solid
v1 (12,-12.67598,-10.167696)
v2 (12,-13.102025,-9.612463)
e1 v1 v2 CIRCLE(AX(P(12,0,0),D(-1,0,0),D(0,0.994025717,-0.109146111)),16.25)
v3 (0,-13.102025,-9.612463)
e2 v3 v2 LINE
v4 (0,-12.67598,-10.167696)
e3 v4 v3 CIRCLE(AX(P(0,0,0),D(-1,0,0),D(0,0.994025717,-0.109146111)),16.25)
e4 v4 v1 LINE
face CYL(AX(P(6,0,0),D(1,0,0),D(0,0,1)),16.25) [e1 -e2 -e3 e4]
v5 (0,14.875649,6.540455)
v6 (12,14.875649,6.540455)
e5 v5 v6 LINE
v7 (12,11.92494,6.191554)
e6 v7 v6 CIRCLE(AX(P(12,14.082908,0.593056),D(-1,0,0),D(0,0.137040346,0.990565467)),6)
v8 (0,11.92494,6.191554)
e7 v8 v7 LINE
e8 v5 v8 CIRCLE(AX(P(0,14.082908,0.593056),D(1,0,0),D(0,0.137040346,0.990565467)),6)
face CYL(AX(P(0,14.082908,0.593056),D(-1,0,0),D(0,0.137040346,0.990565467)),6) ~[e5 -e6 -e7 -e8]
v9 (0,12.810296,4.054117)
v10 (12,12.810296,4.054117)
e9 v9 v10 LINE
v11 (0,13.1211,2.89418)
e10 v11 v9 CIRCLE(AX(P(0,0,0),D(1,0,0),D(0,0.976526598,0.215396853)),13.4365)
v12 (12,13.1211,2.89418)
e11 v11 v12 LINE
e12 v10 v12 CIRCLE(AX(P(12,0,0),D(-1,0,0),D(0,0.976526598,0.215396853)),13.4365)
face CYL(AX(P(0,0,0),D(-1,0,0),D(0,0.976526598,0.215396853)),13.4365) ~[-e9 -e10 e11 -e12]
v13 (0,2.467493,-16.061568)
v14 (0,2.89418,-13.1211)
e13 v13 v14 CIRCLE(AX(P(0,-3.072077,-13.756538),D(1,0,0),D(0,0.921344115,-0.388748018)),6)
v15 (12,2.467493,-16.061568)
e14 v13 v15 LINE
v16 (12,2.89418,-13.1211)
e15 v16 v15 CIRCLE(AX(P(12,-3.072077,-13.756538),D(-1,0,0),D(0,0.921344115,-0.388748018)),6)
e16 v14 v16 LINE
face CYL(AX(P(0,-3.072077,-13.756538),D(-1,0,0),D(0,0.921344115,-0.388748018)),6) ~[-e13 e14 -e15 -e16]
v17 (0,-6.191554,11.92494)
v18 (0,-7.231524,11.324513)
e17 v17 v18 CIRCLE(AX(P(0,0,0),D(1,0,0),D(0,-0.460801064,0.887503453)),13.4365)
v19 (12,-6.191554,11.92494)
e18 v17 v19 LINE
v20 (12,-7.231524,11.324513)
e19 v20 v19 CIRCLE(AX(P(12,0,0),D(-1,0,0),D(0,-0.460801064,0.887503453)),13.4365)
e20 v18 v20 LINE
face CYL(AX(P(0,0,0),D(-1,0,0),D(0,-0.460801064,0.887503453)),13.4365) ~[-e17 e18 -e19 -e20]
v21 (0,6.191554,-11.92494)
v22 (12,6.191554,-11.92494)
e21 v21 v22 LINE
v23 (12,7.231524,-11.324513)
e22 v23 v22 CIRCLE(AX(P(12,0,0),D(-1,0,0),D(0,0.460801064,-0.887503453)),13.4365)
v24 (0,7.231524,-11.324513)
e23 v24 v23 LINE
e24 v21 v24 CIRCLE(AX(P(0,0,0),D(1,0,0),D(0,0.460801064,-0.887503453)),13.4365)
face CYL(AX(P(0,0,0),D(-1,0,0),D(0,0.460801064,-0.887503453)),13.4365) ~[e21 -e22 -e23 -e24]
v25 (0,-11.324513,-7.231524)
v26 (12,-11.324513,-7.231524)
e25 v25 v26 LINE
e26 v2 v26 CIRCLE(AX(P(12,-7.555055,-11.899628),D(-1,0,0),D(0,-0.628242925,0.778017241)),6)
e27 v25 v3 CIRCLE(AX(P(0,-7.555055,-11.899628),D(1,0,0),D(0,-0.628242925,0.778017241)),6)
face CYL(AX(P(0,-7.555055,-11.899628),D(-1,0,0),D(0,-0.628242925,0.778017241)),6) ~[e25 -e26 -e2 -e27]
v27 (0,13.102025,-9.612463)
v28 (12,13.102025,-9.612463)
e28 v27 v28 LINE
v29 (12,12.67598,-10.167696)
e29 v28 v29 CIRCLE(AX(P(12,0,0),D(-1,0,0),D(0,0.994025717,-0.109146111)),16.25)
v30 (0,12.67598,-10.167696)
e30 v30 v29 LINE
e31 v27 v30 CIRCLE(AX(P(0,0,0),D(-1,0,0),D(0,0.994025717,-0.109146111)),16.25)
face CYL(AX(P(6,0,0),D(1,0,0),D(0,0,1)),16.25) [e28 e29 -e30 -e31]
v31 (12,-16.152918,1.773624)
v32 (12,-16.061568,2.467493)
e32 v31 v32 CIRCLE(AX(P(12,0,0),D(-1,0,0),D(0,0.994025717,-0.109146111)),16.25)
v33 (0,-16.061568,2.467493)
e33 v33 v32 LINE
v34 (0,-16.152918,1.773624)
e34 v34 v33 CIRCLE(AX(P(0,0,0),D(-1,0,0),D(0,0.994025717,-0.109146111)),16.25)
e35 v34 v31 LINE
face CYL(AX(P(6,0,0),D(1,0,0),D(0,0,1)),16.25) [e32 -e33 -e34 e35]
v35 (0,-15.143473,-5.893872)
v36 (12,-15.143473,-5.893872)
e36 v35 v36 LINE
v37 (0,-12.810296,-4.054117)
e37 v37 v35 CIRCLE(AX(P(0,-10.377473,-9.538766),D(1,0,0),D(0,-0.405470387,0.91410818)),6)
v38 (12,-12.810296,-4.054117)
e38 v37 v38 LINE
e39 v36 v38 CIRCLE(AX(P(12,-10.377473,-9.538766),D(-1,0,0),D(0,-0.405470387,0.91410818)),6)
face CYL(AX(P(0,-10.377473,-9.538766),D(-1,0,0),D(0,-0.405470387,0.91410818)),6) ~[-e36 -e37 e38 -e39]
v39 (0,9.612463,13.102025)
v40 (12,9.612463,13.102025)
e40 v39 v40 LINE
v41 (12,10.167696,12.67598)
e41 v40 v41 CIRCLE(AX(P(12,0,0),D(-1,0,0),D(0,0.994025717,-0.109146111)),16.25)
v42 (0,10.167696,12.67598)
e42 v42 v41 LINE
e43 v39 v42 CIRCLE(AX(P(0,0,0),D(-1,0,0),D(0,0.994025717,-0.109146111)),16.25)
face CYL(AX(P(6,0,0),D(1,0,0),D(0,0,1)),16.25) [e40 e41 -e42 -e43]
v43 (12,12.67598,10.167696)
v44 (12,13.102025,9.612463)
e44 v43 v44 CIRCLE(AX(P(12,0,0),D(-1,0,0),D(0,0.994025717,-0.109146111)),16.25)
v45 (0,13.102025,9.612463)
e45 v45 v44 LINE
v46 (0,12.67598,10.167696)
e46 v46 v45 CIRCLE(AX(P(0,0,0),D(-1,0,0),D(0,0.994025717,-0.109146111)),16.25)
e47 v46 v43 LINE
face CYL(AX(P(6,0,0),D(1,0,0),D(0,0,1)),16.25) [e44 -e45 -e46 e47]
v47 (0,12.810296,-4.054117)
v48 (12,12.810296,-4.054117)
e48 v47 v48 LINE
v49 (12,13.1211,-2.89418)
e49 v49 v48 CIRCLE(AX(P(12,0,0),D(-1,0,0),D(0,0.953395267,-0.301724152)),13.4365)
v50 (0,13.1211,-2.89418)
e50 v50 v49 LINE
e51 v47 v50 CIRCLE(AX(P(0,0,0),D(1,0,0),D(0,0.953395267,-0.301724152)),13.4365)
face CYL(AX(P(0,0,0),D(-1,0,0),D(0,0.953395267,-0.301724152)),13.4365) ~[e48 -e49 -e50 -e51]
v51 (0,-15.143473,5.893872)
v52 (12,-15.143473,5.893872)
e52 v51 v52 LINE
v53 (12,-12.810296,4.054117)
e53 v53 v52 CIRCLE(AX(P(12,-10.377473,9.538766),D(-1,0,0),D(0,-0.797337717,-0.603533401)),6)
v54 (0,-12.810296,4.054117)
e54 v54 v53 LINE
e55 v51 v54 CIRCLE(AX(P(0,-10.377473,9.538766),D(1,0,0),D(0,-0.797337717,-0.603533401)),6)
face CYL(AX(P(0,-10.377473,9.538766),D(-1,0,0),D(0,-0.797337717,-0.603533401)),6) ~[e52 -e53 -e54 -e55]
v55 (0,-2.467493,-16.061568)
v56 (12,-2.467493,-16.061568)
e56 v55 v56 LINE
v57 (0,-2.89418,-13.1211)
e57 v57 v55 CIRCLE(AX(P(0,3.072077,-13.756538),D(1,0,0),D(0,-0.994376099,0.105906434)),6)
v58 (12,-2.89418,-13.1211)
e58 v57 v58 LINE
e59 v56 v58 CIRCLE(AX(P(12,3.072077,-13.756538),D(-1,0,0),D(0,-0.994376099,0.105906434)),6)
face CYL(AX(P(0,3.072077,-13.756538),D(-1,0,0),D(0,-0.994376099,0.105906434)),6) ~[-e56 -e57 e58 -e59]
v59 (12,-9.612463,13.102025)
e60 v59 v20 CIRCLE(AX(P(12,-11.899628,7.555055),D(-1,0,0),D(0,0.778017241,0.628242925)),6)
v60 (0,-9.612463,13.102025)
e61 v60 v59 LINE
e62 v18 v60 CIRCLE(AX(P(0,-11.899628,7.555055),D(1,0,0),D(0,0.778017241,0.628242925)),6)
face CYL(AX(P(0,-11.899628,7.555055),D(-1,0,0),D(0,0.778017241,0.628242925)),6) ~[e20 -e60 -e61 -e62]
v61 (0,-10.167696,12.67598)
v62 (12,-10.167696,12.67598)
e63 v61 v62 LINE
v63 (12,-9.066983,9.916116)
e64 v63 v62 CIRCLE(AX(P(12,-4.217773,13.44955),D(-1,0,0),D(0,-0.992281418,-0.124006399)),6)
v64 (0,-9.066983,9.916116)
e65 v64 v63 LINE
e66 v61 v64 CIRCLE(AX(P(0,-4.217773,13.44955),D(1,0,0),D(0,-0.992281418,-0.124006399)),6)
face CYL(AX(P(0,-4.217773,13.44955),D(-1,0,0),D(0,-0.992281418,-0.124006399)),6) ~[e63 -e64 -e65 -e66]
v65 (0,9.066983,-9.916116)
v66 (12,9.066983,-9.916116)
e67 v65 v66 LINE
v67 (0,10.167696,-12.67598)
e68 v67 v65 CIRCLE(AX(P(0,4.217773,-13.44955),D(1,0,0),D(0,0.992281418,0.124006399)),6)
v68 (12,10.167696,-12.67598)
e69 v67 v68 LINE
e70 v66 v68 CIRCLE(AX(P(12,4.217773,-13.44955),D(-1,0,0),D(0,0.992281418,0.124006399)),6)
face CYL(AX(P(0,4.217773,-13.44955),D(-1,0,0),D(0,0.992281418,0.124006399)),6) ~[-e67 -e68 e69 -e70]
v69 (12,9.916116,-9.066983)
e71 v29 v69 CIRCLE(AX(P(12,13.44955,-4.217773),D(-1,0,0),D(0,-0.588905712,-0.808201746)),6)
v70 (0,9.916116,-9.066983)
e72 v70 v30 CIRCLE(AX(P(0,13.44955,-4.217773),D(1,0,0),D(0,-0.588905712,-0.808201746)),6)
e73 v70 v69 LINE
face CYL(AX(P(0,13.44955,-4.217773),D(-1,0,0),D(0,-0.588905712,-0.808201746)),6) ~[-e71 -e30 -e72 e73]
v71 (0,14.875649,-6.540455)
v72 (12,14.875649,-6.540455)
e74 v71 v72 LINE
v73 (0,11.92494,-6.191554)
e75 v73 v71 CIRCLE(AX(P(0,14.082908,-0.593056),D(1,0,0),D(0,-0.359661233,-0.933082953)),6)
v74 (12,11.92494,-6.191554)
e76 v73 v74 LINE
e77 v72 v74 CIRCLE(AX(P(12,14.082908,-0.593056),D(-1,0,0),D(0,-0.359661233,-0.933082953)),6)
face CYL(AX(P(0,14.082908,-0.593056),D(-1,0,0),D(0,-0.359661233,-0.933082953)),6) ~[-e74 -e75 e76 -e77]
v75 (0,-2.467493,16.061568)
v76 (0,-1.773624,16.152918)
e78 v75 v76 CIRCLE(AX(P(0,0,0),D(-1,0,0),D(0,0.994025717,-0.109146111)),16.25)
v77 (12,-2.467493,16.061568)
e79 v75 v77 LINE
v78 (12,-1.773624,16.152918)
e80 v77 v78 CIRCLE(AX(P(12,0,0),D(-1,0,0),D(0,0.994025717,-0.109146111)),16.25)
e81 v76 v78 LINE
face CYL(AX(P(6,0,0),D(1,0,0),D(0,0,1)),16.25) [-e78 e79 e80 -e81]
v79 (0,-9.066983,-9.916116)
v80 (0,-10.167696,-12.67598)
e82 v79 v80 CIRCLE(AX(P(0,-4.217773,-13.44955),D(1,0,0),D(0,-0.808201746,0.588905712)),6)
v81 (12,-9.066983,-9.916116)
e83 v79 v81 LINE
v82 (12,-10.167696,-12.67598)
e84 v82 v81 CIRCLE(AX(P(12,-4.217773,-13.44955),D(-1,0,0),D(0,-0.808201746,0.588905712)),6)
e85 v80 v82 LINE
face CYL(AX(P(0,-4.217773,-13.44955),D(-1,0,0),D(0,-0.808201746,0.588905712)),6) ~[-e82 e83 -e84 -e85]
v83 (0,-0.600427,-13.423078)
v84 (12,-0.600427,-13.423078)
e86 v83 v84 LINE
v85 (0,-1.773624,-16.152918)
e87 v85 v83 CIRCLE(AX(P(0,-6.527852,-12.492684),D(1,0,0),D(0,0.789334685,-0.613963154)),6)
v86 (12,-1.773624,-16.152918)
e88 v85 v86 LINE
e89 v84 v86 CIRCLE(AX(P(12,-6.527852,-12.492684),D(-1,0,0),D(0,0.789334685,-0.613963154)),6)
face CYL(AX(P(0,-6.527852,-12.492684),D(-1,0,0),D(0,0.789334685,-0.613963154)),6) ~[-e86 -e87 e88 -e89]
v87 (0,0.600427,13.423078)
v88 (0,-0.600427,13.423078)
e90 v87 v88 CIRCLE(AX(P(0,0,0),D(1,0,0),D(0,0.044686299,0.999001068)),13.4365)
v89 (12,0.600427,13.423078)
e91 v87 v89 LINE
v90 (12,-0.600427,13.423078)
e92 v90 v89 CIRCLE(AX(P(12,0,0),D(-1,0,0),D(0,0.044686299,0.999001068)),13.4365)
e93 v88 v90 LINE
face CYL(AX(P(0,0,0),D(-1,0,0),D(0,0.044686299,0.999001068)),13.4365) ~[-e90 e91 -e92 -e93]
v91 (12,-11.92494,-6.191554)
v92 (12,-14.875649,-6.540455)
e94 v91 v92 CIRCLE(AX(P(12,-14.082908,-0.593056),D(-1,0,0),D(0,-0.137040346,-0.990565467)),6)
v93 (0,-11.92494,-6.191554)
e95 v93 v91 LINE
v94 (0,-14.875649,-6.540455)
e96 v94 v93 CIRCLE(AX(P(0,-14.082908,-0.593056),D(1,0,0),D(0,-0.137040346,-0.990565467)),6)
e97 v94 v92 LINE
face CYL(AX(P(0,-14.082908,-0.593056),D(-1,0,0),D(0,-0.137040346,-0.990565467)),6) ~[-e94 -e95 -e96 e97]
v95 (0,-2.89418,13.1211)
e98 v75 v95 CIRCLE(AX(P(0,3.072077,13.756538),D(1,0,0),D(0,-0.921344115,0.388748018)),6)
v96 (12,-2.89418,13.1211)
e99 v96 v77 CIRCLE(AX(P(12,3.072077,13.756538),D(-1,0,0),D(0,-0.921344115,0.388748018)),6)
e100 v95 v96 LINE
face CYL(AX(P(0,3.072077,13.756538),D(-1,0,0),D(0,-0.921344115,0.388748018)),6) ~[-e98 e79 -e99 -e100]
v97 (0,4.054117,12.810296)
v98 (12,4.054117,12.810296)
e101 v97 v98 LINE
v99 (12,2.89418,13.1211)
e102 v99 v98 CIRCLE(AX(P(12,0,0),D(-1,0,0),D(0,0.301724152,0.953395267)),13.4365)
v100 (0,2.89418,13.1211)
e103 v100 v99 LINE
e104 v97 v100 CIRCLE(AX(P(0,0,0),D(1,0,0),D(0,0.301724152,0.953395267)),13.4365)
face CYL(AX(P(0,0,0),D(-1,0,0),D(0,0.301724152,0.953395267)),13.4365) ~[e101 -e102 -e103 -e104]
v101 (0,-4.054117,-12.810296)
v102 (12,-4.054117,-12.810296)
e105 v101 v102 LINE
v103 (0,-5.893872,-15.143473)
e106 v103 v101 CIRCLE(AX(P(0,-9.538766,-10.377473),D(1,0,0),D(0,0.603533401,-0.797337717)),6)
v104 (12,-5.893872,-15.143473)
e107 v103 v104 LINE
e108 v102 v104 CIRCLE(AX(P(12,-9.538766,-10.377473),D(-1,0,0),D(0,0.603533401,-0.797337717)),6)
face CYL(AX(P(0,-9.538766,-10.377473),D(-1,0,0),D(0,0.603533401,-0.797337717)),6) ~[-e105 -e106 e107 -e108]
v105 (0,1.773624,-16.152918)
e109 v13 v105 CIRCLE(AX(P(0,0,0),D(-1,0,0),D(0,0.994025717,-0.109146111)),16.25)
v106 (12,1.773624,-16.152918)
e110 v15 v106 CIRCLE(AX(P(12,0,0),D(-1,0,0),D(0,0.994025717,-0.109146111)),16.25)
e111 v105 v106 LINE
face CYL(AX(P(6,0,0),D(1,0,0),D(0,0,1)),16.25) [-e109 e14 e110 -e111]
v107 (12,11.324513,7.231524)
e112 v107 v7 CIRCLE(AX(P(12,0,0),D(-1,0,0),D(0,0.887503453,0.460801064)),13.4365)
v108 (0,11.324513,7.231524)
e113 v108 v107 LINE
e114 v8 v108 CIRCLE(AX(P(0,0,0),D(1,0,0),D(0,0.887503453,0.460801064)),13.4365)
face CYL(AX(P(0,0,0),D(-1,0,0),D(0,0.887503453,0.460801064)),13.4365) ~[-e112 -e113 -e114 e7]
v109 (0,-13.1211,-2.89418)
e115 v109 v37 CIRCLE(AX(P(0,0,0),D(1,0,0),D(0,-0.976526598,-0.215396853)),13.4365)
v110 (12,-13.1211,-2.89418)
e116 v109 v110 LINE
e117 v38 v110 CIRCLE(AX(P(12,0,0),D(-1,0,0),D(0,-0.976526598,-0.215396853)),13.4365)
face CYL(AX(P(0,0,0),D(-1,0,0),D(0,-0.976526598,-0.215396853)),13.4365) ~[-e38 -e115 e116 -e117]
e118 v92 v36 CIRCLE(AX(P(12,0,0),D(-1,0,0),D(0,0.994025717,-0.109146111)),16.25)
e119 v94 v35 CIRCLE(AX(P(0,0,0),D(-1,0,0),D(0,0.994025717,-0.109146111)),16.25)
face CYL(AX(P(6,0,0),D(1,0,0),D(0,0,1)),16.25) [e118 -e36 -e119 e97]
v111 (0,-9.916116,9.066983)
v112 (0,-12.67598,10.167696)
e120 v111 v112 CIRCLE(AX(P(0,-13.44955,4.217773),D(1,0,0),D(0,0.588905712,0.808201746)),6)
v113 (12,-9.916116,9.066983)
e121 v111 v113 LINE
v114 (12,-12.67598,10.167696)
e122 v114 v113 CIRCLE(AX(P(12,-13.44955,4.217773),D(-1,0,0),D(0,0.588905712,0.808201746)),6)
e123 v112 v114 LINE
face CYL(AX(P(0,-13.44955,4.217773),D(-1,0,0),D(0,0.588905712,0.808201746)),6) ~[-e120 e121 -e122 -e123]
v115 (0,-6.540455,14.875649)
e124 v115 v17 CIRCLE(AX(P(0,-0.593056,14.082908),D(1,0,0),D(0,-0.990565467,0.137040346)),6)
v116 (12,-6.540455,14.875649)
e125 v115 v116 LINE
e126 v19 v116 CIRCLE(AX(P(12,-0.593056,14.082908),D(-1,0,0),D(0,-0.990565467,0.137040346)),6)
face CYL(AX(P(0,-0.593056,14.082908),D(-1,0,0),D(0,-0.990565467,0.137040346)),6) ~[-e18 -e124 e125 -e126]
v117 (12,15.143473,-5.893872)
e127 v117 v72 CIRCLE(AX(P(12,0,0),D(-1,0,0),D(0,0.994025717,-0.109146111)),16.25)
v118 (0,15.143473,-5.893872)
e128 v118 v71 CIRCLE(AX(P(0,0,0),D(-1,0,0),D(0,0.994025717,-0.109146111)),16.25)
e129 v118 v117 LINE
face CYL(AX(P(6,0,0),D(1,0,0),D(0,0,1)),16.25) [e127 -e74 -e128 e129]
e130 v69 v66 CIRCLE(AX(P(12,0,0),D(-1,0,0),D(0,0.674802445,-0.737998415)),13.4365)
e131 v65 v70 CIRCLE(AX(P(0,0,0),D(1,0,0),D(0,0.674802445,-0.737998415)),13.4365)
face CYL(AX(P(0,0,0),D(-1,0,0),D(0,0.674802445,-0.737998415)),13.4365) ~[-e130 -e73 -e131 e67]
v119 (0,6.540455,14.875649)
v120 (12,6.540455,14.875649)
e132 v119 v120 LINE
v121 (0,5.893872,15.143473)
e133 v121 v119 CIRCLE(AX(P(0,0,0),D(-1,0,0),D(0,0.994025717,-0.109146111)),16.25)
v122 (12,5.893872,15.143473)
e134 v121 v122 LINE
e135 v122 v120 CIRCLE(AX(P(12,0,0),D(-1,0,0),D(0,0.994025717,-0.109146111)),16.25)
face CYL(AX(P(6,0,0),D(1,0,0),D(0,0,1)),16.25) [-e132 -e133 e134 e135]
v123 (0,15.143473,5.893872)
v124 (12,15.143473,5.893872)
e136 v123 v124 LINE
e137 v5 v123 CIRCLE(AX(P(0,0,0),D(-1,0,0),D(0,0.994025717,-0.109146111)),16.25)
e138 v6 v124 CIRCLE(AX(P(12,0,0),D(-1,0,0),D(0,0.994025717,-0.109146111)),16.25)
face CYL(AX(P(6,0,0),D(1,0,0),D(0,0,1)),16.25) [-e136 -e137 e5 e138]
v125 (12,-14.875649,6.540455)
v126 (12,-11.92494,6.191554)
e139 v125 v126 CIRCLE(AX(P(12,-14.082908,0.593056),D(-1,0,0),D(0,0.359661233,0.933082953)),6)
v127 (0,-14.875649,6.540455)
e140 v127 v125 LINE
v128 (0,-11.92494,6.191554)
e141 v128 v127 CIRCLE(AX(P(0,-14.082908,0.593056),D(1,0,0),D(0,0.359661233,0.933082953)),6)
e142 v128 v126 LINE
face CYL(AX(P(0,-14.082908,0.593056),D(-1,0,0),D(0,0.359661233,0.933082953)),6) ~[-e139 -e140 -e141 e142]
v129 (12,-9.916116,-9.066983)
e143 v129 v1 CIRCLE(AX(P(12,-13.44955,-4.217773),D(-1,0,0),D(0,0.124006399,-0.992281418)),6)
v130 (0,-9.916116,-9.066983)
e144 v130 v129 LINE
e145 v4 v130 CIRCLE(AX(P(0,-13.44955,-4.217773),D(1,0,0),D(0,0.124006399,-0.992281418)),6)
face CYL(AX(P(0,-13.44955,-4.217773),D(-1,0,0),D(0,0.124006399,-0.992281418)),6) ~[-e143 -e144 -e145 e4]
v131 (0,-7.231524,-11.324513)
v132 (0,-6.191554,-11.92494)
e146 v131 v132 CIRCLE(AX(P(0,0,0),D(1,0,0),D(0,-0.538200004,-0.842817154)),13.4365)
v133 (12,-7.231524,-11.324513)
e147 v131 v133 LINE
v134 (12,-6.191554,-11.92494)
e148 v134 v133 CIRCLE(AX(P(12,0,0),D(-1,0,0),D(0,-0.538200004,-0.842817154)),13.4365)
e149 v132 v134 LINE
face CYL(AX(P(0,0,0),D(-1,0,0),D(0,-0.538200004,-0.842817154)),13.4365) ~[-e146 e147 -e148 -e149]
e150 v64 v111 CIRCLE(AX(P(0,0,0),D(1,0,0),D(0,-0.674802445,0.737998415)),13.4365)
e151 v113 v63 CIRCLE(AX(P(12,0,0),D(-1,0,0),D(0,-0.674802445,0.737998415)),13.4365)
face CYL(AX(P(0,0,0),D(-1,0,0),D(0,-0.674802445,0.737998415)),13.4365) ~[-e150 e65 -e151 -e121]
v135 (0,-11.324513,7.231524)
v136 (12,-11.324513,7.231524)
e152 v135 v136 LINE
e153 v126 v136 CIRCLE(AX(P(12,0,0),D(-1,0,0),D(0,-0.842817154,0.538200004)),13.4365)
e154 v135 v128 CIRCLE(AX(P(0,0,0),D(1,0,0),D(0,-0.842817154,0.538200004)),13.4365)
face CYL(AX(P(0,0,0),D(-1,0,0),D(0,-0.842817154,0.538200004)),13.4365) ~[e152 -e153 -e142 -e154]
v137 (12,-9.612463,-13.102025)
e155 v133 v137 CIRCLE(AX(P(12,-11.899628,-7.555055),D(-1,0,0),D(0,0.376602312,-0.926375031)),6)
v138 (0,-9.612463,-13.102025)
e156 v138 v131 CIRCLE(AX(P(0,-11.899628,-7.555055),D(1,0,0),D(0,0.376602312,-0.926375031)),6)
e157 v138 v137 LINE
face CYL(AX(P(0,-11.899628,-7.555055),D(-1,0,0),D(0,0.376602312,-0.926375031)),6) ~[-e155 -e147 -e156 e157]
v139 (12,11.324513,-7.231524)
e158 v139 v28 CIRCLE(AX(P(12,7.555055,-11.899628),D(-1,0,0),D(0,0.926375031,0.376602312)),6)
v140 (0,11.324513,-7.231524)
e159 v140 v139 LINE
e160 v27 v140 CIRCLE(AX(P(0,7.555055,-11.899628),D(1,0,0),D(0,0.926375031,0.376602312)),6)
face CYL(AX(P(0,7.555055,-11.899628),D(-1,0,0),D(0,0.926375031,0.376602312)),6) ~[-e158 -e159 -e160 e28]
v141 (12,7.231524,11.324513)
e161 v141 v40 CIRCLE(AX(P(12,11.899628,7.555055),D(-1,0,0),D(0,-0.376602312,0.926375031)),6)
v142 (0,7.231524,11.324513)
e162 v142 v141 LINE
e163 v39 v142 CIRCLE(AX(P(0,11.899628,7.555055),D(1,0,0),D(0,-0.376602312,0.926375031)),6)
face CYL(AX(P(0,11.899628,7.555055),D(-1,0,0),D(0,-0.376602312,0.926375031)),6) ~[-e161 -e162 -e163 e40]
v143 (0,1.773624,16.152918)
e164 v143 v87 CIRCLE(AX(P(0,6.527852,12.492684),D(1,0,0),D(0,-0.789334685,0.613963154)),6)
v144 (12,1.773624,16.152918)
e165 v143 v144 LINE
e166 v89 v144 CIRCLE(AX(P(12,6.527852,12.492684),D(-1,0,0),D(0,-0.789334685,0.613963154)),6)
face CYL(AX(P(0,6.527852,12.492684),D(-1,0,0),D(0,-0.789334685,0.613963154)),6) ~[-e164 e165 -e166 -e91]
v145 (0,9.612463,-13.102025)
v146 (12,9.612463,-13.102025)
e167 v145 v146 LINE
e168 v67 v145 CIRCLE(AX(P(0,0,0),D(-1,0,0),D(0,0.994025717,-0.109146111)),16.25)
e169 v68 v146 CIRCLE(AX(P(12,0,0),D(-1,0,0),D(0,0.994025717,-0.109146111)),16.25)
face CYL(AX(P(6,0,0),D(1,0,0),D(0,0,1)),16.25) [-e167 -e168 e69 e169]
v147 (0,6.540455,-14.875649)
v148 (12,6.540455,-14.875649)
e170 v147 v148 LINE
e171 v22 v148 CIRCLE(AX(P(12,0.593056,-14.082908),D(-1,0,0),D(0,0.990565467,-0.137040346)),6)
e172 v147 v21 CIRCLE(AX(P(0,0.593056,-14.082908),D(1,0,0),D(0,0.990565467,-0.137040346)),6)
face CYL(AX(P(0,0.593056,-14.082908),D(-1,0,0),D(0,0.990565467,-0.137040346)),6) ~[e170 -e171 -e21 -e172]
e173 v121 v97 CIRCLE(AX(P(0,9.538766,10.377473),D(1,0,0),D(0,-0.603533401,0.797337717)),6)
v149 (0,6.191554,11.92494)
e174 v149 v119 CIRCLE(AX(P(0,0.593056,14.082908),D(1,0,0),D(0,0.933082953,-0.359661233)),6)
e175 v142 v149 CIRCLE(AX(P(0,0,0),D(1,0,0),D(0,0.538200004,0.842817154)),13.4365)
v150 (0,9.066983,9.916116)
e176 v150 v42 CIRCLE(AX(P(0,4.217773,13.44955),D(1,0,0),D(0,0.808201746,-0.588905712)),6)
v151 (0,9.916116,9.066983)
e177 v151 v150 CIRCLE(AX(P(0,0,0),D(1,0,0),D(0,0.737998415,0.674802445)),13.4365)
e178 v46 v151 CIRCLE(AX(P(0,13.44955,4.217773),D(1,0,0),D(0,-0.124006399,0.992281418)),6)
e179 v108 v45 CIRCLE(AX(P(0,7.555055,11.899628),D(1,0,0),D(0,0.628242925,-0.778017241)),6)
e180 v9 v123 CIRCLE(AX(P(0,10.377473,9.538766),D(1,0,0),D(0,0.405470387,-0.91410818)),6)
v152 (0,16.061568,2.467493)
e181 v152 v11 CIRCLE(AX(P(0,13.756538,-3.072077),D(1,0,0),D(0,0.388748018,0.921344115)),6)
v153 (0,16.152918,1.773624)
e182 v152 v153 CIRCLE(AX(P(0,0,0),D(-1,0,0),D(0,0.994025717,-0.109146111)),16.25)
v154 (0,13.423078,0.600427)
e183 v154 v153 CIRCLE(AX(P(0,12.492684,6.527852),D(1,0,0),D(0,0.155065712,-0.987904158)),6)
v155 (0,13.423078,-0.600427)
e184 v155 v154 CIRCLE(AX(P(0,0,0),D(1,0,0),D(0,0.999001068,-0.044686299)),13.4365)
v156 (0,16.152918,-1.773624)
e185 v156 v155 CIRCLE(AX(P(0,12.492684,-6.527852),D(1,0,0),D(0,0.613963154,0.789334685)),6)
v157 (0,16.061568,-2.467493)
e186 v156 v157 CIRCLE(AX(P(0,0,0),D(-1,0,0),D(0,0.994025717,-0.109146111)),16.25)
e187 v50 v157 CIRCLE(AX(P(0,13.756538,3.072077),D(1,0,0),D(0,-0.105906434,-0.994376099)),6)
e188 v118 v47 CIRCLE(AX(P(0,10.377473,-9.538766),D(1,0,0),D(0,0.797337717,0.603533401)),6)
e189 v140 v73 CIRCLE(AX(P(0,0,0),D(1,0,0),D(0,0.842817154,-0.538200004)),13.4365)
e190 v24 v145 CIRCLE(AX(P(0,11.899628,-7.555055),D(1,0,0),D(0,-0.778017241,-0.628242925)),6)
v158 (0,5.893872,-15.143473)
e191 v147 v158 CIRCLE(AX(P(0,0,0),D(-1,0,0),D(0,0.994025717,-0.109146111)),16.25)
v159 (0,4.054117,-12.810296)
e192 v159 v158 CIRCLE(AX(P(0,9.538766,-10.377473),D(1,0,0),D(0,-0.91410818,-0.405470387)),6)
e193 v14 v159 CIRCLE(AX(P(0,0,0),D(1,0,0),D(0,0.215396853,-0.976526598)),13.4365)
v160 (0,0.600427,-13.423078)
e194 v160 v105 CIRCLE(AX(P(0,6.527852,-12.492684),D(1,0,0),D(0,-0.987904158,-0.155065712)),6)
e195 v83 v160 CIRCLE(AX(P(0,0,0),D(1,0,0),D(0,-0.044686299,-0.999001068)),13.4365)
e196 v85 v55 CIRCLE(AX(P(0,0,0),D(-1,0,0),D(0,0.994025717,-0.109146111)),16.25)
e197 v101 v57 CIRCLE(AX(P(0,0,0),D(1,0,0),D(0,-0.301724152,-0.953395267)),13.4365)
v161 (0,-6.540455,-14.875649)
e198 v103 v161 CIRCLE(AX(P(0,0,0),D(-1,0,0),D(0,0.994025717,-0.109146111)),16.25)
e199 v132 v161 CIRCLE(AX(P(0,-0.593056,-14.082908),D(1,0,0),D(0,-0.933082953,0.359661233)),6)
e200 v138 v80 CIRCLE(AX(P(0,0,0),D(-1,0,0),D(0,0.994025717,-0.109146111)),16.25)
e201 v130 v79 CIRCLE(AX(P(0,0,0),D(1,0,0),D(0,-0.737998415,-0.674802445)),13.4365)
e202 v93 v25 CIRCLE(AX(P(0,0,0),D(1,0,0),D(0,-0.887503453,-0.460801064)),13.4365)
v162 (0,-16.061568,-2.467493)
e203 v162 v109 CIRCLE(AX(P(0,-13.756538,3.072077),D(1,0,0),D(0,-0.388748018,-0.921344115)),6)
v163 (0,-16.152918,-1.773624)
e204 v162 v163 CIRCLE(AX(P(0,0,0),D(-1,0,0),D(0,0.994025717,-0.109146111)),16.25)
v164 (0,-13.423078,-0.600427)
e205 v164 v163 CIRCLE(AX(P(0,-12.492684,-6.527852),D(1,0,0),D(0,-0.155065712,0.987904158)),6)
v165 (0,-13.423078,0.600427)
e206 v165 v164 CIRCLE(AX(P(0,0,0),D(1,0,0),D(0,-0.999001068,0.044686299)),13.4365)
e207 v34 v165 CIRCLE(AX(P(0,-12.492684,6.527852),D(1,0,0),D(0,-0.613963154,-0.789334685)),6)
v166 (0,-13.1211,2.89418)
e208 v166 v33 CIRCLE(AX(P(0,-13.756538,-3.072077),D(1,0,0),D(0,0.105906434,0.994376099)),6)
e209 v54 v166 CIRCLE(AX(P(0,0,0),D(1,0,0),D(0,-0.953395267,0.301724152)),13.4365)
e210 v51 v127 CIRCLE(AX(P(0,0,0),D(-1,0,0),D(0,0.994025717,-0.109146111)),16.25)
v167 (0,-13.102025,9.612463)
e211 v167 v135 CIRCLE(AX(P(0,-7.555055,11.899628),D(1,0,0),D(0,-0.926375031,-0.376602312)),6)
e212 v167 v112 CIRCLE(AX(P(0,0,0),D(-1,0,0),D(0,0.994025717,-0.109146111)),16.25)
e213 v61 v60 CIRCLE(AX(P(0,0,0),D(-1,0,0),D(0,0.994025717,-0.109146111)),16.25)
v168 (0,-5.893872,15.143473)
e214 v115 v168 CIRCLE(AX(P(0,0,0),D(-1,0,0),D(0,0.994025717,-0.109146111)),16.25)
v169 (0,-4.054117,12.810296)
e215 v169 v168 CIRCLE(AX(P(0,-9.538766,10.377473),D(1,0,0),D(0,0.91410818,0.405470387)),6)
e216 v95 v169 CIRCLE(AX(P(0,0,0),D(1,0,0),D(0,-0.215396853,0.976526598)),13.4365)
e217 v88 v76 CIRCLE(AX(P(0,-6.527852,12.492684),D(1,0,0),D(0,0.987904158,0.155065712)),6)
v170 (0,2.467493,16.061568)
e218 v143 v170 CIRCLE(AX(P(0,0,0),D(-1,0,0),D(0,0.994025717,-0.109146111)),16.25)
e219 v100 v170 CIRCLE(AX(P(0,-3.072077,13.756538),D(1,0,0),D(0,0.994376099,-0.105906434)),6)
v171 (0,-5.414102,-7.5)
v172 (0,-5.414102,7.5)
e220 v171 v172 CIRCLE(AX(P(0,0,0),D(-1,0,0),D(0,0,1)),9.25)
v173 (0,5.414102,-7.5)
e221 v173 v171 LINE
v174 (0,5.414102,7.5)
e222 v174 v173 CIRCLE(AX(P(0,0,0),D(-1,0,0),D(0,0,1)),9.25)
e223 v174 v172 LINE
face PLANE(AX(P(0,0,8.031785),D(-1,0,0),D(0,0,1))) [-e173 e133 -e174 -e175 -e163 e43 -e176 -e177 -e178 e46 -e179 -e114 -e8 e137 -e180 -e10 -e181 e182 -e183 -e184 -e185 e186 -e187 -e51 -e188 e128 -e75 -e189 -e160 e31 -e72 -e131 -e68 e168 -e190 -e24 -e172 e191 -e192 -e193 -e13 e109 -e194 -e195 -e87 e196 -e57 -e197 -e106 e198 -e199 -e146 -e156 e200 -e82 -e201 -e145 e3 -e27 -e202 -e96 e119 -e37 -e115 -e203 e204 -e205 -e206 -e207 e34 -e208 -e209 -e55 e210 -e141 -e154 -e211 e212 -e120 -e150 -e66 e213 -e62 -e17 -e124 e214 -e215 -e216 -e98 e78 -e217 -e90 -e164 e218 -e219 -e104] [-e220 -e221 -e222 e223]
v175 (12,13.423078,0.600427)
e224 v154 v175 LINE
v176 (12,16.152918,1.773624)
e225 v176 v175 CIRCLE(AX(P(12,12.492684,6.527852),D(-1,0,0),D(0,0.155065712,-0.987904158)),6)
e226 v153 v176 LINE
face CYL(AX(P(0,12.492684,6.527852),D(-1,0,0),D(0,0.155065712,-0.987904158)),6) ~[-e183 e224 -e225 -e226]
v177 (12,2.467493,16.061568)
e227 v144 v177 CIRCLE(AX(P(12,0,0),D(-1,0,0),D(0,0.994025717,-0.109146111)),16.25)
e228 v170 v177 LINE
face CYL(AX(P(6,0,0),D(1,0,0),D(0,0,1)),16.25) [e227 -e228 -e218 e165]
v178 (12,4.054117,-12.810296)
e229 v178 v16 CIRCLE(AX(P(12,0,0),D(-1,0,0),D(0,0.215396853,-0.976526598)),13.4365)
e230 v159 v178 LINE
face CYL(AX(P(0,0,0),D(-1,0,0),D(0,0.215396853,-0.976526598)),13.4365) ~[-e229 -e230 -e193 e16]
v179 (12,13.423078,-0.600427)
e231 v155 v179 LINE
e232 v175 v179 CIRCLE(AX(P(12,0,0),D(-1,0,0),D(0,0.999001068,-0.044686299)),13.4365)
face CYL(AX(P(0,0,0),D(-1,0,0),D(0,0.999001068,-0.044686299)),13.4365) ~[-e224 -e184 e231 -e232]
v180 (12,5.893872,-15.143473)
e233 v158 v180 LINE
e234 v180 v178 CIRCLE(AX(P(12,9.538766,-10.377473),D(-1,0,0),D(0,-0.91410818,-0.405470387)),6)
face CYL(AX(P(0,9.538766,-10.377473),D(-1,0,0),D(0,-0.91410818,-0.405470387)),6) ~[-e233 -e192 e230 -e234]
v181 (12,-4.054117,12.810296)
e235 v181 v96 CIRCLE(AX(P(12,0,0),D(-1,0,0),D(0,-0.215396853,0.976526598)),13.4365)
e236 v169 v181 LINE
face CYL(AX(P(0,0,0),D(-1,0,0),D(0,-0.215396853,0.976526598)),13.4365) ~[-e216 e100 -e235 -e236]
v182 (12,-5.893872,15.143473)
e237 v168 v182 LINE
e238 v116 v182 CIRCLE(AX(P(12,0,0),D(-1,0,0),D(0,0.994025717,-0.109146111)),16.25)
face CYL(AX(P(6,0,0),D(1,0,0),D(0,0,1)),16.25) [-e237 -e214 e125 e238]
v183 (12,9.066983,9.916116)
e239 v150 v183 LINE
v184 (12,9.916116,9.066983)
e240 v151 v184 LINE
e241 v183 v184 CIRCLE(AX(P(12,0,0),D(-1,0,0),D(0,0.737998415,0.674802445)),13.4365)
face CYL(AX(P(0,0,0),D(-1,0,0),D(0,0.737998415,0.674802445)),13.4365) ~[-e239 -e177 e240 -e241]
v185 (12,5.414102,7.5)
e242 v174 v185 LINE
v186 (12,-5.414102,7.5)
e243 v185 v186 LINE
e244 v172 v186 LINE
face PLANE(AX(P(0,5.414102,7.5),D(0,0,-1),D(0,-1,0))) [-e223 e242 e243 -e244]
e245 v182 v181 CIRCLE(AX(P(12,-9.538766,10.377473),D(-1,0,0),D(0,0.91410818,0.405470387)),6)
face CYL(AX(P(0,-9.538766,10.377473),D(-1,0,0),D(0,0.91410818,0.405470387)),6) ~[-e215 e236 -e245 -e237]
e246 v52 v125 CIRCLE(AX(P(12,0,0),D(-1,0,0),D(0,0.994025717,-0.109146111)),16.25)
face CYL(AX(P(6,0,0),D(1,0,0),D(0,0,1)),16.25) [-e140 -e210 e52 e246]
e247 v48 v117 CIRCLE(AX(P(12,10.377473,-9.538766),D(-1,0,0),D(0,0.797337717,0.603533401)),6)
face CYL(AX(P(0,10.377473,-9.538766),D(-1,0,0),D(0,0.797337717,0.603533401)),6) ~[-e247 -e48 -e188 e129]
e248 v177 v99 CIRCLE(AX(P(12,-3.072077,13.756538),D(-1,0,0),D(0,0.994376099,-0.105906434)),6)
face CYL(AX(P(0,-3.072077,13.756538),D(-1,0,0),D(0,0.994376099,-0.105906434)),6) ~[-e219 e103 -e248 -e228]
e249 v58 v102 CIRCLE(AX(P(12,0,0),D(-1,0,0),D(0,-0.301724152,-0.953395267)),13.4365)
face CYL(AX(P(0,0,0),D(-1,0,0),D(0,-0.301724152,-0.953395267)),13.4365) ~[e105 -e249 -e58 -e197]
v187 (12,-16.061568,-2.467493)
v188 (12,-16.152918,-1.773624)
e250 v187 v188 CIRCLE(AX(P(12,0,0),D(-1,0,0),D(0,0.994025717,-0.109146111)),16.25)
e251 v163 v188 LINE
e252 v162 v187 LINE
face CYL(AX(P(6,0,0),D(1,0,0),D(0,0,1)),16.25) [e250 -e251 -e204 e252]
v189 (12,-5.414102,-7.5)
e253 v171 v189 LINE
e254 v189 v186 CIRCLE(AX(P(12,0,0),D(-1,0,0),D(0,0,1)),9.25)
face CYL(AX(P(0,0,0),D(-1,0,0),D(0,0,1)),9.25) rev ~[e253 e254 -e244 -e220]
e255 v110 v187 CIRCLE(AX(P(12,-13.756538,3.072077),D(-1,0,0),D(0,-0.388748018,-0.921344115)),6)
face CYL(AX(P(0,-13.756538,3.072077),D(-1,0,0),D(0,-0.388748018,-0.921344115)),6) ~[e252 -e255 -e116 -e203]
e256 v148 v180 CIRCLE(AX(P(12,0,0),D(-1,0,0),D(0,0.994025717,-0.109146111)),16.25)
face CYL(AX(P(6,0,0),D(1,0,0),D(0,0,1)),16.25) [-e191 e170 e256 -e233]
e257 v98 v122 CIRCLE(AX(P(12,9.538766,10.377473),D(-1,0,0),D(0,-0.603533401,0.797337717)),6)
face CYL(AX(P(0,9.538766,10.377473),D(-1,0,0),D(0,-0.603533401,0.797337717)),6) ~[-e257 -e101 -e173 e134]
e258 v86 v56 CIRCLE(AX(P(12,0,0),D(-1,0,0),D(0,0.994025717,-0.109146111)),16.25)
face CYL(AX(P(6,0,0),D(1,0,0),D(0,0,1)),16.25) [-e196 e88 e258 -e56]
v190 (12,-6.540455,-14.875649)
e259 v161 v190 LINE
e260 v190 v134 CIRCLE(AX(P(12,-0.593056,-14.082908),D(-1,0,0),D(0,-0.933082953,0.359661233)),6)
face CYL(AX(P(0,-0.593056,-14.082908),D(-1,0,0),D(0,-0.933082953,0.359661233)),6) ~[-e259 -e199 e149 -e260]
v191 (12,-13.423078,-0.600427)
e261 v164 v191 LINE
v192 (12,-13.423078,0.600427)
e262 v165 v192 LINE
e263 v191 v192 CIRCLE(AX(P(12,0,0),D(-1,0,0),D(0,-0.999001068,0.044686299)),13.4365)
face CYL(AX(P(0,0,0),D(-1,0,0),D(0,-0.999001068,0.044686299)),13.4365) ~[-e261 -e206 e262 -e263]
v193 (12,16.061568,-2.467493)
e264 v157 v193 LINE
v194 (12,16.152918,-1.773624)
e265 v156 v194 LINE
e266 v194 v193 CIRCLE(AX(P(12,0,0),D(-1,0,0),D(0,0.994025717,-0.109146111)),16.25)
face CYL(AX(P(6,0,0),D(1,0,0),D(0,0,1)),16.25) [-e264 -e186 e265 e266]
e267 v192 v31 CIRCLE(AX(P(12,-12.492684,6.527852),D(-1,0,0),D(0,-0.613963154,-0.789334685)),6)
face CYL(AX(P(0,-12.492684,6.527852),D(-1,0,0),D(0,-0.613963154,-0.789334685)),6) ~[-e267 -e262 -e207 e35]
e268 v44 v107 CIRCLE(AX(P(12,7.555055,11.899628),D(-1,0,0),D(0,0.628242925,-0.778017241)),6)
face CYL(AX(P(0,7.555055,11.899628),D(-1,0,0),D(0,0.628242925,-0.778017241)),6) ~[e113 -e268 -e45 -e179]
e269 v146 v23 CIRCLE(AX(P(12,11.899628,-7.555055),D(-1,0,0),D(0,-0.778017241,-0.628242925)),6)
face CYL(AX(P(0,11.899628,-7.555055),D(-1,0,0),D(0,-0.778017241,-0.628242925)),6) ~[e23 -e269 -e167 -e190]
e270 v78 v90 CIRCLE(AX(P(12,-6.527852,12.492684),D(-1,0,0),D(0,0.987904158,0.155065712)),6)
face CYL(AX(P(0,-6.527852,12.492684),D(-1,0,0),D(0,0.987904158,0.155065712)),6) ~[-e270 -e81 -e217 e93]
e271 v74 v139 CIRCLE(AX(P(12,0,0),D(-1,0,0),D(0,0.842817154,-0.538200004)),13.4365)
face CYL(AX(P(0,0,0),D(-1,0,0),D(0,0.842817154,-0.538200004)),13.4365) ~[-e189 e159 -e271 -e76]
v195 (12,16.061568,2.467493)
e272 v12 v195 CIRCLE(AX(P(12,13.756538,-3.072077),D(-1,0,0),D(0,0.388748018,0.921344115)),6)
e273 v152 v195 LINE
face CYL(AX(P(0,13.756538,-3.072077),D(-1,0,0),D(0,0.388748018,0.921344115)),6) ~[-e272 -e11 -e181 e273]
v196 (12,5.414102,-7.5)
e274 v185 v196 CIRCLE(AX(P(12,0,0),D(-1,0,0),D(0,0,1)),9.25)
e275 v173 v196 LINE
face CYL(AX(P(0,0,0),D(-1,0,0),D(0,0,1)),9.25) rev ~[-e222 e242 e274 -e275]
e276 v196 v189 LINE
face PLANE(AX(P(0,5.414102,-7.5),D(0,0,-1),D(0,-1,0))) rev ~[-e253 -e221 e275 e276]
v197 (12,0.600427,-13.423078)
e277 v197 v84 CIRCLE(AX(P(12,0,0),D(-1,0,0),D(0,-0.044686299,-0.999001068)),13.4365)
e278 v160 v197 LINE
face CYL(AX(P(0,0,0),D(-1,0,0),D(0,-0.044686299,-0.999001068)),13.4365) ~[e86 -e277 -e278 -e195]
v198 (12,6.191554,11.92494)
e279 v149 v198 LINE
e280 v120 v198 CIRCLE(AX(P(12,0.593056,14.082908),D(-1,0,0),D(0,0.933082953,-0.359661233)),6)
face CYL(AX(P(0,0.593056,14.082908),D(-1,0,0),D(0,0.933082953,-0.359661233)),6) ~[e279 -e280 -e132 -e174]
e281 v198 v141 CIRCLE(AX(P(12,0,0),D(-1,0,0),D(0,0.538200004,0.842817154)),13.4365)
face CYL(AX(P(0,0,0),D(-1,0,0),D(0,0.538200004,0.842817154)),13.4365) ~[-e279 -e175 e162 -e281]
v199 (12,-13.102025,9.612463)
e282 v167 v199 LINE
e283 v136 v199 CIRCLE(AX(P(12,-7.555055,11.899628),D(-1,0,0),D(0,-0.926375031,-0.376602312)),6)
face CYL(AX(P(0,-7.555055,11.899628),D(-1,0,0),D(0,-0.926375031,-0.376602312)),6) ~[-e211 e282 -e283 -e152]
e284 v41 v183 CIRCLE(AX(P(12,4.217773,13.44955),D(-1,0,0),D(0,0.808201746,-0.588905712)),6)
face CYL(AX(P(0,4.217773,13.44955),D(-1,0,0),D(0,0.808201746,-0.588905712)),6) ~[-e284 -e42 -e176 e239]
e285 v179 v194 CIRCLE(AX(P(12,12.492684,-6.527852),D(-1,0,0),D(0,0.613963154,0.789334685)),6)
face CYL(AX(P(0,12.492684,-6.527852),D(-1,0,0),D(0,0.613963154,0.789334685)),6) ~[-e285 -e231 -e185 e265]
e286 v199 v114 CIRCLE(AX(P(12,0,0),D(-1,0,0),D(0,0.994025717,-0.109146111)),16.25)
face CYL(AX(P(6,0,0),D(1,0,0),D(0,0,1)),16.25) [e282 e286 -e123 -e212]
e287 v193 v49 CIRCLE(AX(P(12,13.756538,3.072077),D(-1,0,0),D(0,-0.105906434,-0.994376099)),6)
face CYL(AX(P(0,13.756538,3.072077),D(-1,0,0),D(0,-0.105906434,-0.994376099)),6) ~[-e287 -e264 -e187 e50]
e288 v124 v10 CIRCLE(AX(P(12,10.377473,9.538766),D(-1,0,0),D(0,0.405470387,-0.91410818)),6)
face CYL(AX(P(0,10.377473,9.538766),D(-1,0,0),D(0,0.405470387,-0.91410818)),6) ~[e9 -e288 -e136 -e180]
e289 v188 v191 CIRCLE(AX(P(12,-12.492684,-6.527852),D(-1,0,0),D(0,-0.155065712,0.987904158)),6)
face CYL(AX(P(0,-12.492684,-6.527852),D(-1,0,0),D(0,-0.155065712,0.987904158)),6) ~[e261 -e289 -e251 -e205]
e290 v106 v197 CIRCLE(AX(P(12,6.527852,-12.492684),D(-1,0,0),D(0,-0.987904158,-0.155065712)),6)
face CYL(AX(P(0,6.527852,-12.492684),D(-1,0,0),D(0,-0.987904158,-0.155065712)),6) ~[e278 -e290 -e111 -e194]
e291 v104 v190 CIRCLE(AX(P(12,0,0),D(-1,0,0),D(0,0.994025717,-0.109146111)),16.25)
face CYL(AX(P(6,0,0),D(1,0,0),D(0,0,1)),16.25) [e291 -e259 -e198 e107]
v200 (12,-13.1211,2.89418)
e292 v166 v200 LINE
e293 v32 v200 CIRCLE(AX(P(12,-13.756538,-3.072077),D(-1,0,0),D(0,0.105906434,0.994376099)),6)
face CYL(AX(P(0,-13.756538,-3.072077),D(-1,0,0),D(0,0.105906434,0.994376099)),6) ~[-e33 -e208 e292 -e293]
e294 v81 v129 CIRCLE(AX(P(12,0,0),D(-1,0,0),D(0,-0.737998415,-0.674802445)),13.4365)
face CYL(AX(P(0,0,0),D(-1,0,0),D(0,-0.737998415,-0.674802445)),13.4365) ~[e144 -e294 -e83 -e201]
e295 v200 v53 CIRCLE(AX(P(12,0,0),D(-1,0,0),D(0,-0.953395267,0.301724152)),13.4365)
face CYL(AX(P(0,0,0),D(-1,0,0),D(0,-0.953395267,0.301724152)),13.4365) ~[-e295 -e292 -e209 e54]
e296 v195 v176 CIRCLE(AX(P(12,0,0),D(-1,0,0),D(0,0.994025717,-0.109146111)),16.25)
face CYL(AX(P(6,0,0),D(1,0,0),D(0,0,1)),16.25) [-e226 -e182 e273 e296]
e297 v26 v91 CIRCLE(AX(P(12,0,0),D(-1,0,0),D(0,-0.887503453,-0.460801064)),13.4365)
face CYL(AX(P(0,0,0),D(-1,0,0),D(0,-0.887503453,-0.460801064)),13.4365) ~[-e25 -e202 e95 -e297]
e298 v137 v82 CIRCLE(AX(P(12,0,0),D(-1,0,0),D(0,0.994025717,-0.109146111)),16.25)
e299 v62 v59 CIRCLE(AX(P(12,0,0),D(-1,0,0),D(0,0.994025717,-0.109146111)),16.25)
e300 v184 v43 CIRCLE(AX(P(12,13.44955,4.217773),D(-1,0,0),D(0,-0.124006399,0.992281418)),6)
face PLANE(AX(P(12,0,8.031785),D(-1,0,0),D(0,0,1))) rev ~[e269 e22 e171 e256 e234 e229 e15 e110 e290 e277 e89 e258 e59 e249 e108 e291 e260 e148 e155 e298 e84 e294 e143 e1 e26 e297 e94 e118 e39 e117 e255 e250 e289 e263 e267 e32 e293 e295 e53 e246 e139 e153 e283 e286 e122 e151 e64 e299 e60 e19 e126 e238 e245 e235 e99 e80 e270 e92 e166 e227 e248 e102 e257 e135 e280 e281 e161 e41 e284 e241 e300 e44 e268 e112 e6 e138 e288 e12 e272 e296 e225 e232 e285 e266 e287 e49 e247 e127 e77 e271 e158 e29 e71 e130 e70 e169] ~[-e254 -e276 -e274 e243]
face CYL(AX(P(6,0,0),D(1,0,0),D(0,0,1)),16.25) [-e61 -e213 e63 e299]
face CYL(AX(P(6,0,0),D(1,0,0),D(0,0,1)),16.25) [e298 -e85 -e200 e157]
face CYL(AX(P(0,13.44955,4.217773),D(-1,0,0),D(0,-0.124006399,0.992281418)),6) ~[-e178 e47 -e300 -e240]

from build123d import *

# Parameters (mm, degrees)
BASPROSKE_W     = 12
BASPROSKE_H     = 16.25
TOOTHCUT_DEPTH  = 26.925373671
TEETHCUTS_COUNT = 24
TEETHCUTS_ANGLE = 345
BORSKE_R        = 12
BORE_DEPTH      = 50.0000508
SKETCH_1_R      = 12
SKETCH_1_R_2    = 9.25
EXTRUDE_1_DEPTH = 12
EXTRUDE_2_DEPTH = 12


with BuildPart() as part:
    # BasProSke → Base-Revolve (revolve)
    with BuildSketch(Plane(origin=(0, 0, 0), x_dir=(1, 0, 0), z_dir=(0, 1, 0)), mode=Mode.PRIVATE) as base_revolve_sk:
        with Locations((6, 8.125)):
            Rectangle(BASPROSKE_W, BASPROSKE_H)
    revolve(base_revolve_sk.sketch.rotate(Axis((-10, 0, 0), (1, 0, 0)), 180), axis=Axis((-10, 0, 0), (1, 0, 0)))

    # TooCutSke → ToothCut (cut, through all)
    with BuildSketch(Plane(origin=(0, 0, 0), x_dir=(0, 0, -1), z_dir=(1, 0, 0))):
        with BuildLine():
            ThreePointArc((0.600427448, 13.423077856), (0, 13.4365), (-0.600427448, 13.423077856))
            ThreePointArc((-0.600427448, 13.423077856), (-1.021266982, 14.875437681), (-1.791844283, 16.176462507))
            ThreePointArc((-1.791844283, 16.176462507), (0, 16.2754), (1.791844283, 16.176462507))
            ThreePointArc((1.791844283, 16.176462507), (1.021266982, 14.875437681), (0.600427448, 13.423077856))
        make_face()
    toothcut = extrude(amount=TOOTHCUT_DEPTH, mode=Mode.SUBTRACT)

    # TeethCuts: ToothCut ×24 about axis
    teethcuts_axis = Axis((-10, 0, 0), (1, 0, 0))
    for i in range(1, TEETHCUTS_COUNT):
        add(toothcut.rotate(teethcuts_axis, i * TEETHCUTS_ANGLE / (TEETHCUTS_COUNT - 1)), mode=Mode.SUBTRACT)

    # BorSke → Bore (cut, symmetric)
    with BuildSketch(Plane(origin=(0, 0, 0), x_dir=(0, 0, -1), z_dir=(1, 0, 0))):
        with Locations(Location((0, 0, 0), (0, 0, 180))):
            Circle(BORSKE_R)
    extrude(amount=BORE_DEPTH, both=True, mode=Mode.SUBTRACT)

    # 草图1 → 凸台-拉伸1 (add, through all)
    with BuildSketch(Plane.ZY):
        Circle(SKETCH_1_R)
        Circle(SKETCH_1_R_2, mode=Mode.SUBTRACT)
    extrude(amount=-EXTRUDE_1_DEPTH)

    # 草图2 → 凸台-拉伸2 (add, through all)
    with BuildSketch(Plane.ZY):
        with BuildLine():
            Line((-7.5, 5.414101957), (-7.5, -5.414101957))
            ThreePointArc((-7.5, -5.414101957), (-9.25, 0), (-7.5, 5.414101957))
        make_face()
        with BuildLine():
            Line((7.5, 5.414101957), (7.5, -5.414101957))
            ThreePointArc((7.5, -5.414101957), (9.25, 0), (7.5, 5.414101957))
        make_face()
    extrude(amount=-EXTRUDE_2_DEPTH)


solid = part.part
